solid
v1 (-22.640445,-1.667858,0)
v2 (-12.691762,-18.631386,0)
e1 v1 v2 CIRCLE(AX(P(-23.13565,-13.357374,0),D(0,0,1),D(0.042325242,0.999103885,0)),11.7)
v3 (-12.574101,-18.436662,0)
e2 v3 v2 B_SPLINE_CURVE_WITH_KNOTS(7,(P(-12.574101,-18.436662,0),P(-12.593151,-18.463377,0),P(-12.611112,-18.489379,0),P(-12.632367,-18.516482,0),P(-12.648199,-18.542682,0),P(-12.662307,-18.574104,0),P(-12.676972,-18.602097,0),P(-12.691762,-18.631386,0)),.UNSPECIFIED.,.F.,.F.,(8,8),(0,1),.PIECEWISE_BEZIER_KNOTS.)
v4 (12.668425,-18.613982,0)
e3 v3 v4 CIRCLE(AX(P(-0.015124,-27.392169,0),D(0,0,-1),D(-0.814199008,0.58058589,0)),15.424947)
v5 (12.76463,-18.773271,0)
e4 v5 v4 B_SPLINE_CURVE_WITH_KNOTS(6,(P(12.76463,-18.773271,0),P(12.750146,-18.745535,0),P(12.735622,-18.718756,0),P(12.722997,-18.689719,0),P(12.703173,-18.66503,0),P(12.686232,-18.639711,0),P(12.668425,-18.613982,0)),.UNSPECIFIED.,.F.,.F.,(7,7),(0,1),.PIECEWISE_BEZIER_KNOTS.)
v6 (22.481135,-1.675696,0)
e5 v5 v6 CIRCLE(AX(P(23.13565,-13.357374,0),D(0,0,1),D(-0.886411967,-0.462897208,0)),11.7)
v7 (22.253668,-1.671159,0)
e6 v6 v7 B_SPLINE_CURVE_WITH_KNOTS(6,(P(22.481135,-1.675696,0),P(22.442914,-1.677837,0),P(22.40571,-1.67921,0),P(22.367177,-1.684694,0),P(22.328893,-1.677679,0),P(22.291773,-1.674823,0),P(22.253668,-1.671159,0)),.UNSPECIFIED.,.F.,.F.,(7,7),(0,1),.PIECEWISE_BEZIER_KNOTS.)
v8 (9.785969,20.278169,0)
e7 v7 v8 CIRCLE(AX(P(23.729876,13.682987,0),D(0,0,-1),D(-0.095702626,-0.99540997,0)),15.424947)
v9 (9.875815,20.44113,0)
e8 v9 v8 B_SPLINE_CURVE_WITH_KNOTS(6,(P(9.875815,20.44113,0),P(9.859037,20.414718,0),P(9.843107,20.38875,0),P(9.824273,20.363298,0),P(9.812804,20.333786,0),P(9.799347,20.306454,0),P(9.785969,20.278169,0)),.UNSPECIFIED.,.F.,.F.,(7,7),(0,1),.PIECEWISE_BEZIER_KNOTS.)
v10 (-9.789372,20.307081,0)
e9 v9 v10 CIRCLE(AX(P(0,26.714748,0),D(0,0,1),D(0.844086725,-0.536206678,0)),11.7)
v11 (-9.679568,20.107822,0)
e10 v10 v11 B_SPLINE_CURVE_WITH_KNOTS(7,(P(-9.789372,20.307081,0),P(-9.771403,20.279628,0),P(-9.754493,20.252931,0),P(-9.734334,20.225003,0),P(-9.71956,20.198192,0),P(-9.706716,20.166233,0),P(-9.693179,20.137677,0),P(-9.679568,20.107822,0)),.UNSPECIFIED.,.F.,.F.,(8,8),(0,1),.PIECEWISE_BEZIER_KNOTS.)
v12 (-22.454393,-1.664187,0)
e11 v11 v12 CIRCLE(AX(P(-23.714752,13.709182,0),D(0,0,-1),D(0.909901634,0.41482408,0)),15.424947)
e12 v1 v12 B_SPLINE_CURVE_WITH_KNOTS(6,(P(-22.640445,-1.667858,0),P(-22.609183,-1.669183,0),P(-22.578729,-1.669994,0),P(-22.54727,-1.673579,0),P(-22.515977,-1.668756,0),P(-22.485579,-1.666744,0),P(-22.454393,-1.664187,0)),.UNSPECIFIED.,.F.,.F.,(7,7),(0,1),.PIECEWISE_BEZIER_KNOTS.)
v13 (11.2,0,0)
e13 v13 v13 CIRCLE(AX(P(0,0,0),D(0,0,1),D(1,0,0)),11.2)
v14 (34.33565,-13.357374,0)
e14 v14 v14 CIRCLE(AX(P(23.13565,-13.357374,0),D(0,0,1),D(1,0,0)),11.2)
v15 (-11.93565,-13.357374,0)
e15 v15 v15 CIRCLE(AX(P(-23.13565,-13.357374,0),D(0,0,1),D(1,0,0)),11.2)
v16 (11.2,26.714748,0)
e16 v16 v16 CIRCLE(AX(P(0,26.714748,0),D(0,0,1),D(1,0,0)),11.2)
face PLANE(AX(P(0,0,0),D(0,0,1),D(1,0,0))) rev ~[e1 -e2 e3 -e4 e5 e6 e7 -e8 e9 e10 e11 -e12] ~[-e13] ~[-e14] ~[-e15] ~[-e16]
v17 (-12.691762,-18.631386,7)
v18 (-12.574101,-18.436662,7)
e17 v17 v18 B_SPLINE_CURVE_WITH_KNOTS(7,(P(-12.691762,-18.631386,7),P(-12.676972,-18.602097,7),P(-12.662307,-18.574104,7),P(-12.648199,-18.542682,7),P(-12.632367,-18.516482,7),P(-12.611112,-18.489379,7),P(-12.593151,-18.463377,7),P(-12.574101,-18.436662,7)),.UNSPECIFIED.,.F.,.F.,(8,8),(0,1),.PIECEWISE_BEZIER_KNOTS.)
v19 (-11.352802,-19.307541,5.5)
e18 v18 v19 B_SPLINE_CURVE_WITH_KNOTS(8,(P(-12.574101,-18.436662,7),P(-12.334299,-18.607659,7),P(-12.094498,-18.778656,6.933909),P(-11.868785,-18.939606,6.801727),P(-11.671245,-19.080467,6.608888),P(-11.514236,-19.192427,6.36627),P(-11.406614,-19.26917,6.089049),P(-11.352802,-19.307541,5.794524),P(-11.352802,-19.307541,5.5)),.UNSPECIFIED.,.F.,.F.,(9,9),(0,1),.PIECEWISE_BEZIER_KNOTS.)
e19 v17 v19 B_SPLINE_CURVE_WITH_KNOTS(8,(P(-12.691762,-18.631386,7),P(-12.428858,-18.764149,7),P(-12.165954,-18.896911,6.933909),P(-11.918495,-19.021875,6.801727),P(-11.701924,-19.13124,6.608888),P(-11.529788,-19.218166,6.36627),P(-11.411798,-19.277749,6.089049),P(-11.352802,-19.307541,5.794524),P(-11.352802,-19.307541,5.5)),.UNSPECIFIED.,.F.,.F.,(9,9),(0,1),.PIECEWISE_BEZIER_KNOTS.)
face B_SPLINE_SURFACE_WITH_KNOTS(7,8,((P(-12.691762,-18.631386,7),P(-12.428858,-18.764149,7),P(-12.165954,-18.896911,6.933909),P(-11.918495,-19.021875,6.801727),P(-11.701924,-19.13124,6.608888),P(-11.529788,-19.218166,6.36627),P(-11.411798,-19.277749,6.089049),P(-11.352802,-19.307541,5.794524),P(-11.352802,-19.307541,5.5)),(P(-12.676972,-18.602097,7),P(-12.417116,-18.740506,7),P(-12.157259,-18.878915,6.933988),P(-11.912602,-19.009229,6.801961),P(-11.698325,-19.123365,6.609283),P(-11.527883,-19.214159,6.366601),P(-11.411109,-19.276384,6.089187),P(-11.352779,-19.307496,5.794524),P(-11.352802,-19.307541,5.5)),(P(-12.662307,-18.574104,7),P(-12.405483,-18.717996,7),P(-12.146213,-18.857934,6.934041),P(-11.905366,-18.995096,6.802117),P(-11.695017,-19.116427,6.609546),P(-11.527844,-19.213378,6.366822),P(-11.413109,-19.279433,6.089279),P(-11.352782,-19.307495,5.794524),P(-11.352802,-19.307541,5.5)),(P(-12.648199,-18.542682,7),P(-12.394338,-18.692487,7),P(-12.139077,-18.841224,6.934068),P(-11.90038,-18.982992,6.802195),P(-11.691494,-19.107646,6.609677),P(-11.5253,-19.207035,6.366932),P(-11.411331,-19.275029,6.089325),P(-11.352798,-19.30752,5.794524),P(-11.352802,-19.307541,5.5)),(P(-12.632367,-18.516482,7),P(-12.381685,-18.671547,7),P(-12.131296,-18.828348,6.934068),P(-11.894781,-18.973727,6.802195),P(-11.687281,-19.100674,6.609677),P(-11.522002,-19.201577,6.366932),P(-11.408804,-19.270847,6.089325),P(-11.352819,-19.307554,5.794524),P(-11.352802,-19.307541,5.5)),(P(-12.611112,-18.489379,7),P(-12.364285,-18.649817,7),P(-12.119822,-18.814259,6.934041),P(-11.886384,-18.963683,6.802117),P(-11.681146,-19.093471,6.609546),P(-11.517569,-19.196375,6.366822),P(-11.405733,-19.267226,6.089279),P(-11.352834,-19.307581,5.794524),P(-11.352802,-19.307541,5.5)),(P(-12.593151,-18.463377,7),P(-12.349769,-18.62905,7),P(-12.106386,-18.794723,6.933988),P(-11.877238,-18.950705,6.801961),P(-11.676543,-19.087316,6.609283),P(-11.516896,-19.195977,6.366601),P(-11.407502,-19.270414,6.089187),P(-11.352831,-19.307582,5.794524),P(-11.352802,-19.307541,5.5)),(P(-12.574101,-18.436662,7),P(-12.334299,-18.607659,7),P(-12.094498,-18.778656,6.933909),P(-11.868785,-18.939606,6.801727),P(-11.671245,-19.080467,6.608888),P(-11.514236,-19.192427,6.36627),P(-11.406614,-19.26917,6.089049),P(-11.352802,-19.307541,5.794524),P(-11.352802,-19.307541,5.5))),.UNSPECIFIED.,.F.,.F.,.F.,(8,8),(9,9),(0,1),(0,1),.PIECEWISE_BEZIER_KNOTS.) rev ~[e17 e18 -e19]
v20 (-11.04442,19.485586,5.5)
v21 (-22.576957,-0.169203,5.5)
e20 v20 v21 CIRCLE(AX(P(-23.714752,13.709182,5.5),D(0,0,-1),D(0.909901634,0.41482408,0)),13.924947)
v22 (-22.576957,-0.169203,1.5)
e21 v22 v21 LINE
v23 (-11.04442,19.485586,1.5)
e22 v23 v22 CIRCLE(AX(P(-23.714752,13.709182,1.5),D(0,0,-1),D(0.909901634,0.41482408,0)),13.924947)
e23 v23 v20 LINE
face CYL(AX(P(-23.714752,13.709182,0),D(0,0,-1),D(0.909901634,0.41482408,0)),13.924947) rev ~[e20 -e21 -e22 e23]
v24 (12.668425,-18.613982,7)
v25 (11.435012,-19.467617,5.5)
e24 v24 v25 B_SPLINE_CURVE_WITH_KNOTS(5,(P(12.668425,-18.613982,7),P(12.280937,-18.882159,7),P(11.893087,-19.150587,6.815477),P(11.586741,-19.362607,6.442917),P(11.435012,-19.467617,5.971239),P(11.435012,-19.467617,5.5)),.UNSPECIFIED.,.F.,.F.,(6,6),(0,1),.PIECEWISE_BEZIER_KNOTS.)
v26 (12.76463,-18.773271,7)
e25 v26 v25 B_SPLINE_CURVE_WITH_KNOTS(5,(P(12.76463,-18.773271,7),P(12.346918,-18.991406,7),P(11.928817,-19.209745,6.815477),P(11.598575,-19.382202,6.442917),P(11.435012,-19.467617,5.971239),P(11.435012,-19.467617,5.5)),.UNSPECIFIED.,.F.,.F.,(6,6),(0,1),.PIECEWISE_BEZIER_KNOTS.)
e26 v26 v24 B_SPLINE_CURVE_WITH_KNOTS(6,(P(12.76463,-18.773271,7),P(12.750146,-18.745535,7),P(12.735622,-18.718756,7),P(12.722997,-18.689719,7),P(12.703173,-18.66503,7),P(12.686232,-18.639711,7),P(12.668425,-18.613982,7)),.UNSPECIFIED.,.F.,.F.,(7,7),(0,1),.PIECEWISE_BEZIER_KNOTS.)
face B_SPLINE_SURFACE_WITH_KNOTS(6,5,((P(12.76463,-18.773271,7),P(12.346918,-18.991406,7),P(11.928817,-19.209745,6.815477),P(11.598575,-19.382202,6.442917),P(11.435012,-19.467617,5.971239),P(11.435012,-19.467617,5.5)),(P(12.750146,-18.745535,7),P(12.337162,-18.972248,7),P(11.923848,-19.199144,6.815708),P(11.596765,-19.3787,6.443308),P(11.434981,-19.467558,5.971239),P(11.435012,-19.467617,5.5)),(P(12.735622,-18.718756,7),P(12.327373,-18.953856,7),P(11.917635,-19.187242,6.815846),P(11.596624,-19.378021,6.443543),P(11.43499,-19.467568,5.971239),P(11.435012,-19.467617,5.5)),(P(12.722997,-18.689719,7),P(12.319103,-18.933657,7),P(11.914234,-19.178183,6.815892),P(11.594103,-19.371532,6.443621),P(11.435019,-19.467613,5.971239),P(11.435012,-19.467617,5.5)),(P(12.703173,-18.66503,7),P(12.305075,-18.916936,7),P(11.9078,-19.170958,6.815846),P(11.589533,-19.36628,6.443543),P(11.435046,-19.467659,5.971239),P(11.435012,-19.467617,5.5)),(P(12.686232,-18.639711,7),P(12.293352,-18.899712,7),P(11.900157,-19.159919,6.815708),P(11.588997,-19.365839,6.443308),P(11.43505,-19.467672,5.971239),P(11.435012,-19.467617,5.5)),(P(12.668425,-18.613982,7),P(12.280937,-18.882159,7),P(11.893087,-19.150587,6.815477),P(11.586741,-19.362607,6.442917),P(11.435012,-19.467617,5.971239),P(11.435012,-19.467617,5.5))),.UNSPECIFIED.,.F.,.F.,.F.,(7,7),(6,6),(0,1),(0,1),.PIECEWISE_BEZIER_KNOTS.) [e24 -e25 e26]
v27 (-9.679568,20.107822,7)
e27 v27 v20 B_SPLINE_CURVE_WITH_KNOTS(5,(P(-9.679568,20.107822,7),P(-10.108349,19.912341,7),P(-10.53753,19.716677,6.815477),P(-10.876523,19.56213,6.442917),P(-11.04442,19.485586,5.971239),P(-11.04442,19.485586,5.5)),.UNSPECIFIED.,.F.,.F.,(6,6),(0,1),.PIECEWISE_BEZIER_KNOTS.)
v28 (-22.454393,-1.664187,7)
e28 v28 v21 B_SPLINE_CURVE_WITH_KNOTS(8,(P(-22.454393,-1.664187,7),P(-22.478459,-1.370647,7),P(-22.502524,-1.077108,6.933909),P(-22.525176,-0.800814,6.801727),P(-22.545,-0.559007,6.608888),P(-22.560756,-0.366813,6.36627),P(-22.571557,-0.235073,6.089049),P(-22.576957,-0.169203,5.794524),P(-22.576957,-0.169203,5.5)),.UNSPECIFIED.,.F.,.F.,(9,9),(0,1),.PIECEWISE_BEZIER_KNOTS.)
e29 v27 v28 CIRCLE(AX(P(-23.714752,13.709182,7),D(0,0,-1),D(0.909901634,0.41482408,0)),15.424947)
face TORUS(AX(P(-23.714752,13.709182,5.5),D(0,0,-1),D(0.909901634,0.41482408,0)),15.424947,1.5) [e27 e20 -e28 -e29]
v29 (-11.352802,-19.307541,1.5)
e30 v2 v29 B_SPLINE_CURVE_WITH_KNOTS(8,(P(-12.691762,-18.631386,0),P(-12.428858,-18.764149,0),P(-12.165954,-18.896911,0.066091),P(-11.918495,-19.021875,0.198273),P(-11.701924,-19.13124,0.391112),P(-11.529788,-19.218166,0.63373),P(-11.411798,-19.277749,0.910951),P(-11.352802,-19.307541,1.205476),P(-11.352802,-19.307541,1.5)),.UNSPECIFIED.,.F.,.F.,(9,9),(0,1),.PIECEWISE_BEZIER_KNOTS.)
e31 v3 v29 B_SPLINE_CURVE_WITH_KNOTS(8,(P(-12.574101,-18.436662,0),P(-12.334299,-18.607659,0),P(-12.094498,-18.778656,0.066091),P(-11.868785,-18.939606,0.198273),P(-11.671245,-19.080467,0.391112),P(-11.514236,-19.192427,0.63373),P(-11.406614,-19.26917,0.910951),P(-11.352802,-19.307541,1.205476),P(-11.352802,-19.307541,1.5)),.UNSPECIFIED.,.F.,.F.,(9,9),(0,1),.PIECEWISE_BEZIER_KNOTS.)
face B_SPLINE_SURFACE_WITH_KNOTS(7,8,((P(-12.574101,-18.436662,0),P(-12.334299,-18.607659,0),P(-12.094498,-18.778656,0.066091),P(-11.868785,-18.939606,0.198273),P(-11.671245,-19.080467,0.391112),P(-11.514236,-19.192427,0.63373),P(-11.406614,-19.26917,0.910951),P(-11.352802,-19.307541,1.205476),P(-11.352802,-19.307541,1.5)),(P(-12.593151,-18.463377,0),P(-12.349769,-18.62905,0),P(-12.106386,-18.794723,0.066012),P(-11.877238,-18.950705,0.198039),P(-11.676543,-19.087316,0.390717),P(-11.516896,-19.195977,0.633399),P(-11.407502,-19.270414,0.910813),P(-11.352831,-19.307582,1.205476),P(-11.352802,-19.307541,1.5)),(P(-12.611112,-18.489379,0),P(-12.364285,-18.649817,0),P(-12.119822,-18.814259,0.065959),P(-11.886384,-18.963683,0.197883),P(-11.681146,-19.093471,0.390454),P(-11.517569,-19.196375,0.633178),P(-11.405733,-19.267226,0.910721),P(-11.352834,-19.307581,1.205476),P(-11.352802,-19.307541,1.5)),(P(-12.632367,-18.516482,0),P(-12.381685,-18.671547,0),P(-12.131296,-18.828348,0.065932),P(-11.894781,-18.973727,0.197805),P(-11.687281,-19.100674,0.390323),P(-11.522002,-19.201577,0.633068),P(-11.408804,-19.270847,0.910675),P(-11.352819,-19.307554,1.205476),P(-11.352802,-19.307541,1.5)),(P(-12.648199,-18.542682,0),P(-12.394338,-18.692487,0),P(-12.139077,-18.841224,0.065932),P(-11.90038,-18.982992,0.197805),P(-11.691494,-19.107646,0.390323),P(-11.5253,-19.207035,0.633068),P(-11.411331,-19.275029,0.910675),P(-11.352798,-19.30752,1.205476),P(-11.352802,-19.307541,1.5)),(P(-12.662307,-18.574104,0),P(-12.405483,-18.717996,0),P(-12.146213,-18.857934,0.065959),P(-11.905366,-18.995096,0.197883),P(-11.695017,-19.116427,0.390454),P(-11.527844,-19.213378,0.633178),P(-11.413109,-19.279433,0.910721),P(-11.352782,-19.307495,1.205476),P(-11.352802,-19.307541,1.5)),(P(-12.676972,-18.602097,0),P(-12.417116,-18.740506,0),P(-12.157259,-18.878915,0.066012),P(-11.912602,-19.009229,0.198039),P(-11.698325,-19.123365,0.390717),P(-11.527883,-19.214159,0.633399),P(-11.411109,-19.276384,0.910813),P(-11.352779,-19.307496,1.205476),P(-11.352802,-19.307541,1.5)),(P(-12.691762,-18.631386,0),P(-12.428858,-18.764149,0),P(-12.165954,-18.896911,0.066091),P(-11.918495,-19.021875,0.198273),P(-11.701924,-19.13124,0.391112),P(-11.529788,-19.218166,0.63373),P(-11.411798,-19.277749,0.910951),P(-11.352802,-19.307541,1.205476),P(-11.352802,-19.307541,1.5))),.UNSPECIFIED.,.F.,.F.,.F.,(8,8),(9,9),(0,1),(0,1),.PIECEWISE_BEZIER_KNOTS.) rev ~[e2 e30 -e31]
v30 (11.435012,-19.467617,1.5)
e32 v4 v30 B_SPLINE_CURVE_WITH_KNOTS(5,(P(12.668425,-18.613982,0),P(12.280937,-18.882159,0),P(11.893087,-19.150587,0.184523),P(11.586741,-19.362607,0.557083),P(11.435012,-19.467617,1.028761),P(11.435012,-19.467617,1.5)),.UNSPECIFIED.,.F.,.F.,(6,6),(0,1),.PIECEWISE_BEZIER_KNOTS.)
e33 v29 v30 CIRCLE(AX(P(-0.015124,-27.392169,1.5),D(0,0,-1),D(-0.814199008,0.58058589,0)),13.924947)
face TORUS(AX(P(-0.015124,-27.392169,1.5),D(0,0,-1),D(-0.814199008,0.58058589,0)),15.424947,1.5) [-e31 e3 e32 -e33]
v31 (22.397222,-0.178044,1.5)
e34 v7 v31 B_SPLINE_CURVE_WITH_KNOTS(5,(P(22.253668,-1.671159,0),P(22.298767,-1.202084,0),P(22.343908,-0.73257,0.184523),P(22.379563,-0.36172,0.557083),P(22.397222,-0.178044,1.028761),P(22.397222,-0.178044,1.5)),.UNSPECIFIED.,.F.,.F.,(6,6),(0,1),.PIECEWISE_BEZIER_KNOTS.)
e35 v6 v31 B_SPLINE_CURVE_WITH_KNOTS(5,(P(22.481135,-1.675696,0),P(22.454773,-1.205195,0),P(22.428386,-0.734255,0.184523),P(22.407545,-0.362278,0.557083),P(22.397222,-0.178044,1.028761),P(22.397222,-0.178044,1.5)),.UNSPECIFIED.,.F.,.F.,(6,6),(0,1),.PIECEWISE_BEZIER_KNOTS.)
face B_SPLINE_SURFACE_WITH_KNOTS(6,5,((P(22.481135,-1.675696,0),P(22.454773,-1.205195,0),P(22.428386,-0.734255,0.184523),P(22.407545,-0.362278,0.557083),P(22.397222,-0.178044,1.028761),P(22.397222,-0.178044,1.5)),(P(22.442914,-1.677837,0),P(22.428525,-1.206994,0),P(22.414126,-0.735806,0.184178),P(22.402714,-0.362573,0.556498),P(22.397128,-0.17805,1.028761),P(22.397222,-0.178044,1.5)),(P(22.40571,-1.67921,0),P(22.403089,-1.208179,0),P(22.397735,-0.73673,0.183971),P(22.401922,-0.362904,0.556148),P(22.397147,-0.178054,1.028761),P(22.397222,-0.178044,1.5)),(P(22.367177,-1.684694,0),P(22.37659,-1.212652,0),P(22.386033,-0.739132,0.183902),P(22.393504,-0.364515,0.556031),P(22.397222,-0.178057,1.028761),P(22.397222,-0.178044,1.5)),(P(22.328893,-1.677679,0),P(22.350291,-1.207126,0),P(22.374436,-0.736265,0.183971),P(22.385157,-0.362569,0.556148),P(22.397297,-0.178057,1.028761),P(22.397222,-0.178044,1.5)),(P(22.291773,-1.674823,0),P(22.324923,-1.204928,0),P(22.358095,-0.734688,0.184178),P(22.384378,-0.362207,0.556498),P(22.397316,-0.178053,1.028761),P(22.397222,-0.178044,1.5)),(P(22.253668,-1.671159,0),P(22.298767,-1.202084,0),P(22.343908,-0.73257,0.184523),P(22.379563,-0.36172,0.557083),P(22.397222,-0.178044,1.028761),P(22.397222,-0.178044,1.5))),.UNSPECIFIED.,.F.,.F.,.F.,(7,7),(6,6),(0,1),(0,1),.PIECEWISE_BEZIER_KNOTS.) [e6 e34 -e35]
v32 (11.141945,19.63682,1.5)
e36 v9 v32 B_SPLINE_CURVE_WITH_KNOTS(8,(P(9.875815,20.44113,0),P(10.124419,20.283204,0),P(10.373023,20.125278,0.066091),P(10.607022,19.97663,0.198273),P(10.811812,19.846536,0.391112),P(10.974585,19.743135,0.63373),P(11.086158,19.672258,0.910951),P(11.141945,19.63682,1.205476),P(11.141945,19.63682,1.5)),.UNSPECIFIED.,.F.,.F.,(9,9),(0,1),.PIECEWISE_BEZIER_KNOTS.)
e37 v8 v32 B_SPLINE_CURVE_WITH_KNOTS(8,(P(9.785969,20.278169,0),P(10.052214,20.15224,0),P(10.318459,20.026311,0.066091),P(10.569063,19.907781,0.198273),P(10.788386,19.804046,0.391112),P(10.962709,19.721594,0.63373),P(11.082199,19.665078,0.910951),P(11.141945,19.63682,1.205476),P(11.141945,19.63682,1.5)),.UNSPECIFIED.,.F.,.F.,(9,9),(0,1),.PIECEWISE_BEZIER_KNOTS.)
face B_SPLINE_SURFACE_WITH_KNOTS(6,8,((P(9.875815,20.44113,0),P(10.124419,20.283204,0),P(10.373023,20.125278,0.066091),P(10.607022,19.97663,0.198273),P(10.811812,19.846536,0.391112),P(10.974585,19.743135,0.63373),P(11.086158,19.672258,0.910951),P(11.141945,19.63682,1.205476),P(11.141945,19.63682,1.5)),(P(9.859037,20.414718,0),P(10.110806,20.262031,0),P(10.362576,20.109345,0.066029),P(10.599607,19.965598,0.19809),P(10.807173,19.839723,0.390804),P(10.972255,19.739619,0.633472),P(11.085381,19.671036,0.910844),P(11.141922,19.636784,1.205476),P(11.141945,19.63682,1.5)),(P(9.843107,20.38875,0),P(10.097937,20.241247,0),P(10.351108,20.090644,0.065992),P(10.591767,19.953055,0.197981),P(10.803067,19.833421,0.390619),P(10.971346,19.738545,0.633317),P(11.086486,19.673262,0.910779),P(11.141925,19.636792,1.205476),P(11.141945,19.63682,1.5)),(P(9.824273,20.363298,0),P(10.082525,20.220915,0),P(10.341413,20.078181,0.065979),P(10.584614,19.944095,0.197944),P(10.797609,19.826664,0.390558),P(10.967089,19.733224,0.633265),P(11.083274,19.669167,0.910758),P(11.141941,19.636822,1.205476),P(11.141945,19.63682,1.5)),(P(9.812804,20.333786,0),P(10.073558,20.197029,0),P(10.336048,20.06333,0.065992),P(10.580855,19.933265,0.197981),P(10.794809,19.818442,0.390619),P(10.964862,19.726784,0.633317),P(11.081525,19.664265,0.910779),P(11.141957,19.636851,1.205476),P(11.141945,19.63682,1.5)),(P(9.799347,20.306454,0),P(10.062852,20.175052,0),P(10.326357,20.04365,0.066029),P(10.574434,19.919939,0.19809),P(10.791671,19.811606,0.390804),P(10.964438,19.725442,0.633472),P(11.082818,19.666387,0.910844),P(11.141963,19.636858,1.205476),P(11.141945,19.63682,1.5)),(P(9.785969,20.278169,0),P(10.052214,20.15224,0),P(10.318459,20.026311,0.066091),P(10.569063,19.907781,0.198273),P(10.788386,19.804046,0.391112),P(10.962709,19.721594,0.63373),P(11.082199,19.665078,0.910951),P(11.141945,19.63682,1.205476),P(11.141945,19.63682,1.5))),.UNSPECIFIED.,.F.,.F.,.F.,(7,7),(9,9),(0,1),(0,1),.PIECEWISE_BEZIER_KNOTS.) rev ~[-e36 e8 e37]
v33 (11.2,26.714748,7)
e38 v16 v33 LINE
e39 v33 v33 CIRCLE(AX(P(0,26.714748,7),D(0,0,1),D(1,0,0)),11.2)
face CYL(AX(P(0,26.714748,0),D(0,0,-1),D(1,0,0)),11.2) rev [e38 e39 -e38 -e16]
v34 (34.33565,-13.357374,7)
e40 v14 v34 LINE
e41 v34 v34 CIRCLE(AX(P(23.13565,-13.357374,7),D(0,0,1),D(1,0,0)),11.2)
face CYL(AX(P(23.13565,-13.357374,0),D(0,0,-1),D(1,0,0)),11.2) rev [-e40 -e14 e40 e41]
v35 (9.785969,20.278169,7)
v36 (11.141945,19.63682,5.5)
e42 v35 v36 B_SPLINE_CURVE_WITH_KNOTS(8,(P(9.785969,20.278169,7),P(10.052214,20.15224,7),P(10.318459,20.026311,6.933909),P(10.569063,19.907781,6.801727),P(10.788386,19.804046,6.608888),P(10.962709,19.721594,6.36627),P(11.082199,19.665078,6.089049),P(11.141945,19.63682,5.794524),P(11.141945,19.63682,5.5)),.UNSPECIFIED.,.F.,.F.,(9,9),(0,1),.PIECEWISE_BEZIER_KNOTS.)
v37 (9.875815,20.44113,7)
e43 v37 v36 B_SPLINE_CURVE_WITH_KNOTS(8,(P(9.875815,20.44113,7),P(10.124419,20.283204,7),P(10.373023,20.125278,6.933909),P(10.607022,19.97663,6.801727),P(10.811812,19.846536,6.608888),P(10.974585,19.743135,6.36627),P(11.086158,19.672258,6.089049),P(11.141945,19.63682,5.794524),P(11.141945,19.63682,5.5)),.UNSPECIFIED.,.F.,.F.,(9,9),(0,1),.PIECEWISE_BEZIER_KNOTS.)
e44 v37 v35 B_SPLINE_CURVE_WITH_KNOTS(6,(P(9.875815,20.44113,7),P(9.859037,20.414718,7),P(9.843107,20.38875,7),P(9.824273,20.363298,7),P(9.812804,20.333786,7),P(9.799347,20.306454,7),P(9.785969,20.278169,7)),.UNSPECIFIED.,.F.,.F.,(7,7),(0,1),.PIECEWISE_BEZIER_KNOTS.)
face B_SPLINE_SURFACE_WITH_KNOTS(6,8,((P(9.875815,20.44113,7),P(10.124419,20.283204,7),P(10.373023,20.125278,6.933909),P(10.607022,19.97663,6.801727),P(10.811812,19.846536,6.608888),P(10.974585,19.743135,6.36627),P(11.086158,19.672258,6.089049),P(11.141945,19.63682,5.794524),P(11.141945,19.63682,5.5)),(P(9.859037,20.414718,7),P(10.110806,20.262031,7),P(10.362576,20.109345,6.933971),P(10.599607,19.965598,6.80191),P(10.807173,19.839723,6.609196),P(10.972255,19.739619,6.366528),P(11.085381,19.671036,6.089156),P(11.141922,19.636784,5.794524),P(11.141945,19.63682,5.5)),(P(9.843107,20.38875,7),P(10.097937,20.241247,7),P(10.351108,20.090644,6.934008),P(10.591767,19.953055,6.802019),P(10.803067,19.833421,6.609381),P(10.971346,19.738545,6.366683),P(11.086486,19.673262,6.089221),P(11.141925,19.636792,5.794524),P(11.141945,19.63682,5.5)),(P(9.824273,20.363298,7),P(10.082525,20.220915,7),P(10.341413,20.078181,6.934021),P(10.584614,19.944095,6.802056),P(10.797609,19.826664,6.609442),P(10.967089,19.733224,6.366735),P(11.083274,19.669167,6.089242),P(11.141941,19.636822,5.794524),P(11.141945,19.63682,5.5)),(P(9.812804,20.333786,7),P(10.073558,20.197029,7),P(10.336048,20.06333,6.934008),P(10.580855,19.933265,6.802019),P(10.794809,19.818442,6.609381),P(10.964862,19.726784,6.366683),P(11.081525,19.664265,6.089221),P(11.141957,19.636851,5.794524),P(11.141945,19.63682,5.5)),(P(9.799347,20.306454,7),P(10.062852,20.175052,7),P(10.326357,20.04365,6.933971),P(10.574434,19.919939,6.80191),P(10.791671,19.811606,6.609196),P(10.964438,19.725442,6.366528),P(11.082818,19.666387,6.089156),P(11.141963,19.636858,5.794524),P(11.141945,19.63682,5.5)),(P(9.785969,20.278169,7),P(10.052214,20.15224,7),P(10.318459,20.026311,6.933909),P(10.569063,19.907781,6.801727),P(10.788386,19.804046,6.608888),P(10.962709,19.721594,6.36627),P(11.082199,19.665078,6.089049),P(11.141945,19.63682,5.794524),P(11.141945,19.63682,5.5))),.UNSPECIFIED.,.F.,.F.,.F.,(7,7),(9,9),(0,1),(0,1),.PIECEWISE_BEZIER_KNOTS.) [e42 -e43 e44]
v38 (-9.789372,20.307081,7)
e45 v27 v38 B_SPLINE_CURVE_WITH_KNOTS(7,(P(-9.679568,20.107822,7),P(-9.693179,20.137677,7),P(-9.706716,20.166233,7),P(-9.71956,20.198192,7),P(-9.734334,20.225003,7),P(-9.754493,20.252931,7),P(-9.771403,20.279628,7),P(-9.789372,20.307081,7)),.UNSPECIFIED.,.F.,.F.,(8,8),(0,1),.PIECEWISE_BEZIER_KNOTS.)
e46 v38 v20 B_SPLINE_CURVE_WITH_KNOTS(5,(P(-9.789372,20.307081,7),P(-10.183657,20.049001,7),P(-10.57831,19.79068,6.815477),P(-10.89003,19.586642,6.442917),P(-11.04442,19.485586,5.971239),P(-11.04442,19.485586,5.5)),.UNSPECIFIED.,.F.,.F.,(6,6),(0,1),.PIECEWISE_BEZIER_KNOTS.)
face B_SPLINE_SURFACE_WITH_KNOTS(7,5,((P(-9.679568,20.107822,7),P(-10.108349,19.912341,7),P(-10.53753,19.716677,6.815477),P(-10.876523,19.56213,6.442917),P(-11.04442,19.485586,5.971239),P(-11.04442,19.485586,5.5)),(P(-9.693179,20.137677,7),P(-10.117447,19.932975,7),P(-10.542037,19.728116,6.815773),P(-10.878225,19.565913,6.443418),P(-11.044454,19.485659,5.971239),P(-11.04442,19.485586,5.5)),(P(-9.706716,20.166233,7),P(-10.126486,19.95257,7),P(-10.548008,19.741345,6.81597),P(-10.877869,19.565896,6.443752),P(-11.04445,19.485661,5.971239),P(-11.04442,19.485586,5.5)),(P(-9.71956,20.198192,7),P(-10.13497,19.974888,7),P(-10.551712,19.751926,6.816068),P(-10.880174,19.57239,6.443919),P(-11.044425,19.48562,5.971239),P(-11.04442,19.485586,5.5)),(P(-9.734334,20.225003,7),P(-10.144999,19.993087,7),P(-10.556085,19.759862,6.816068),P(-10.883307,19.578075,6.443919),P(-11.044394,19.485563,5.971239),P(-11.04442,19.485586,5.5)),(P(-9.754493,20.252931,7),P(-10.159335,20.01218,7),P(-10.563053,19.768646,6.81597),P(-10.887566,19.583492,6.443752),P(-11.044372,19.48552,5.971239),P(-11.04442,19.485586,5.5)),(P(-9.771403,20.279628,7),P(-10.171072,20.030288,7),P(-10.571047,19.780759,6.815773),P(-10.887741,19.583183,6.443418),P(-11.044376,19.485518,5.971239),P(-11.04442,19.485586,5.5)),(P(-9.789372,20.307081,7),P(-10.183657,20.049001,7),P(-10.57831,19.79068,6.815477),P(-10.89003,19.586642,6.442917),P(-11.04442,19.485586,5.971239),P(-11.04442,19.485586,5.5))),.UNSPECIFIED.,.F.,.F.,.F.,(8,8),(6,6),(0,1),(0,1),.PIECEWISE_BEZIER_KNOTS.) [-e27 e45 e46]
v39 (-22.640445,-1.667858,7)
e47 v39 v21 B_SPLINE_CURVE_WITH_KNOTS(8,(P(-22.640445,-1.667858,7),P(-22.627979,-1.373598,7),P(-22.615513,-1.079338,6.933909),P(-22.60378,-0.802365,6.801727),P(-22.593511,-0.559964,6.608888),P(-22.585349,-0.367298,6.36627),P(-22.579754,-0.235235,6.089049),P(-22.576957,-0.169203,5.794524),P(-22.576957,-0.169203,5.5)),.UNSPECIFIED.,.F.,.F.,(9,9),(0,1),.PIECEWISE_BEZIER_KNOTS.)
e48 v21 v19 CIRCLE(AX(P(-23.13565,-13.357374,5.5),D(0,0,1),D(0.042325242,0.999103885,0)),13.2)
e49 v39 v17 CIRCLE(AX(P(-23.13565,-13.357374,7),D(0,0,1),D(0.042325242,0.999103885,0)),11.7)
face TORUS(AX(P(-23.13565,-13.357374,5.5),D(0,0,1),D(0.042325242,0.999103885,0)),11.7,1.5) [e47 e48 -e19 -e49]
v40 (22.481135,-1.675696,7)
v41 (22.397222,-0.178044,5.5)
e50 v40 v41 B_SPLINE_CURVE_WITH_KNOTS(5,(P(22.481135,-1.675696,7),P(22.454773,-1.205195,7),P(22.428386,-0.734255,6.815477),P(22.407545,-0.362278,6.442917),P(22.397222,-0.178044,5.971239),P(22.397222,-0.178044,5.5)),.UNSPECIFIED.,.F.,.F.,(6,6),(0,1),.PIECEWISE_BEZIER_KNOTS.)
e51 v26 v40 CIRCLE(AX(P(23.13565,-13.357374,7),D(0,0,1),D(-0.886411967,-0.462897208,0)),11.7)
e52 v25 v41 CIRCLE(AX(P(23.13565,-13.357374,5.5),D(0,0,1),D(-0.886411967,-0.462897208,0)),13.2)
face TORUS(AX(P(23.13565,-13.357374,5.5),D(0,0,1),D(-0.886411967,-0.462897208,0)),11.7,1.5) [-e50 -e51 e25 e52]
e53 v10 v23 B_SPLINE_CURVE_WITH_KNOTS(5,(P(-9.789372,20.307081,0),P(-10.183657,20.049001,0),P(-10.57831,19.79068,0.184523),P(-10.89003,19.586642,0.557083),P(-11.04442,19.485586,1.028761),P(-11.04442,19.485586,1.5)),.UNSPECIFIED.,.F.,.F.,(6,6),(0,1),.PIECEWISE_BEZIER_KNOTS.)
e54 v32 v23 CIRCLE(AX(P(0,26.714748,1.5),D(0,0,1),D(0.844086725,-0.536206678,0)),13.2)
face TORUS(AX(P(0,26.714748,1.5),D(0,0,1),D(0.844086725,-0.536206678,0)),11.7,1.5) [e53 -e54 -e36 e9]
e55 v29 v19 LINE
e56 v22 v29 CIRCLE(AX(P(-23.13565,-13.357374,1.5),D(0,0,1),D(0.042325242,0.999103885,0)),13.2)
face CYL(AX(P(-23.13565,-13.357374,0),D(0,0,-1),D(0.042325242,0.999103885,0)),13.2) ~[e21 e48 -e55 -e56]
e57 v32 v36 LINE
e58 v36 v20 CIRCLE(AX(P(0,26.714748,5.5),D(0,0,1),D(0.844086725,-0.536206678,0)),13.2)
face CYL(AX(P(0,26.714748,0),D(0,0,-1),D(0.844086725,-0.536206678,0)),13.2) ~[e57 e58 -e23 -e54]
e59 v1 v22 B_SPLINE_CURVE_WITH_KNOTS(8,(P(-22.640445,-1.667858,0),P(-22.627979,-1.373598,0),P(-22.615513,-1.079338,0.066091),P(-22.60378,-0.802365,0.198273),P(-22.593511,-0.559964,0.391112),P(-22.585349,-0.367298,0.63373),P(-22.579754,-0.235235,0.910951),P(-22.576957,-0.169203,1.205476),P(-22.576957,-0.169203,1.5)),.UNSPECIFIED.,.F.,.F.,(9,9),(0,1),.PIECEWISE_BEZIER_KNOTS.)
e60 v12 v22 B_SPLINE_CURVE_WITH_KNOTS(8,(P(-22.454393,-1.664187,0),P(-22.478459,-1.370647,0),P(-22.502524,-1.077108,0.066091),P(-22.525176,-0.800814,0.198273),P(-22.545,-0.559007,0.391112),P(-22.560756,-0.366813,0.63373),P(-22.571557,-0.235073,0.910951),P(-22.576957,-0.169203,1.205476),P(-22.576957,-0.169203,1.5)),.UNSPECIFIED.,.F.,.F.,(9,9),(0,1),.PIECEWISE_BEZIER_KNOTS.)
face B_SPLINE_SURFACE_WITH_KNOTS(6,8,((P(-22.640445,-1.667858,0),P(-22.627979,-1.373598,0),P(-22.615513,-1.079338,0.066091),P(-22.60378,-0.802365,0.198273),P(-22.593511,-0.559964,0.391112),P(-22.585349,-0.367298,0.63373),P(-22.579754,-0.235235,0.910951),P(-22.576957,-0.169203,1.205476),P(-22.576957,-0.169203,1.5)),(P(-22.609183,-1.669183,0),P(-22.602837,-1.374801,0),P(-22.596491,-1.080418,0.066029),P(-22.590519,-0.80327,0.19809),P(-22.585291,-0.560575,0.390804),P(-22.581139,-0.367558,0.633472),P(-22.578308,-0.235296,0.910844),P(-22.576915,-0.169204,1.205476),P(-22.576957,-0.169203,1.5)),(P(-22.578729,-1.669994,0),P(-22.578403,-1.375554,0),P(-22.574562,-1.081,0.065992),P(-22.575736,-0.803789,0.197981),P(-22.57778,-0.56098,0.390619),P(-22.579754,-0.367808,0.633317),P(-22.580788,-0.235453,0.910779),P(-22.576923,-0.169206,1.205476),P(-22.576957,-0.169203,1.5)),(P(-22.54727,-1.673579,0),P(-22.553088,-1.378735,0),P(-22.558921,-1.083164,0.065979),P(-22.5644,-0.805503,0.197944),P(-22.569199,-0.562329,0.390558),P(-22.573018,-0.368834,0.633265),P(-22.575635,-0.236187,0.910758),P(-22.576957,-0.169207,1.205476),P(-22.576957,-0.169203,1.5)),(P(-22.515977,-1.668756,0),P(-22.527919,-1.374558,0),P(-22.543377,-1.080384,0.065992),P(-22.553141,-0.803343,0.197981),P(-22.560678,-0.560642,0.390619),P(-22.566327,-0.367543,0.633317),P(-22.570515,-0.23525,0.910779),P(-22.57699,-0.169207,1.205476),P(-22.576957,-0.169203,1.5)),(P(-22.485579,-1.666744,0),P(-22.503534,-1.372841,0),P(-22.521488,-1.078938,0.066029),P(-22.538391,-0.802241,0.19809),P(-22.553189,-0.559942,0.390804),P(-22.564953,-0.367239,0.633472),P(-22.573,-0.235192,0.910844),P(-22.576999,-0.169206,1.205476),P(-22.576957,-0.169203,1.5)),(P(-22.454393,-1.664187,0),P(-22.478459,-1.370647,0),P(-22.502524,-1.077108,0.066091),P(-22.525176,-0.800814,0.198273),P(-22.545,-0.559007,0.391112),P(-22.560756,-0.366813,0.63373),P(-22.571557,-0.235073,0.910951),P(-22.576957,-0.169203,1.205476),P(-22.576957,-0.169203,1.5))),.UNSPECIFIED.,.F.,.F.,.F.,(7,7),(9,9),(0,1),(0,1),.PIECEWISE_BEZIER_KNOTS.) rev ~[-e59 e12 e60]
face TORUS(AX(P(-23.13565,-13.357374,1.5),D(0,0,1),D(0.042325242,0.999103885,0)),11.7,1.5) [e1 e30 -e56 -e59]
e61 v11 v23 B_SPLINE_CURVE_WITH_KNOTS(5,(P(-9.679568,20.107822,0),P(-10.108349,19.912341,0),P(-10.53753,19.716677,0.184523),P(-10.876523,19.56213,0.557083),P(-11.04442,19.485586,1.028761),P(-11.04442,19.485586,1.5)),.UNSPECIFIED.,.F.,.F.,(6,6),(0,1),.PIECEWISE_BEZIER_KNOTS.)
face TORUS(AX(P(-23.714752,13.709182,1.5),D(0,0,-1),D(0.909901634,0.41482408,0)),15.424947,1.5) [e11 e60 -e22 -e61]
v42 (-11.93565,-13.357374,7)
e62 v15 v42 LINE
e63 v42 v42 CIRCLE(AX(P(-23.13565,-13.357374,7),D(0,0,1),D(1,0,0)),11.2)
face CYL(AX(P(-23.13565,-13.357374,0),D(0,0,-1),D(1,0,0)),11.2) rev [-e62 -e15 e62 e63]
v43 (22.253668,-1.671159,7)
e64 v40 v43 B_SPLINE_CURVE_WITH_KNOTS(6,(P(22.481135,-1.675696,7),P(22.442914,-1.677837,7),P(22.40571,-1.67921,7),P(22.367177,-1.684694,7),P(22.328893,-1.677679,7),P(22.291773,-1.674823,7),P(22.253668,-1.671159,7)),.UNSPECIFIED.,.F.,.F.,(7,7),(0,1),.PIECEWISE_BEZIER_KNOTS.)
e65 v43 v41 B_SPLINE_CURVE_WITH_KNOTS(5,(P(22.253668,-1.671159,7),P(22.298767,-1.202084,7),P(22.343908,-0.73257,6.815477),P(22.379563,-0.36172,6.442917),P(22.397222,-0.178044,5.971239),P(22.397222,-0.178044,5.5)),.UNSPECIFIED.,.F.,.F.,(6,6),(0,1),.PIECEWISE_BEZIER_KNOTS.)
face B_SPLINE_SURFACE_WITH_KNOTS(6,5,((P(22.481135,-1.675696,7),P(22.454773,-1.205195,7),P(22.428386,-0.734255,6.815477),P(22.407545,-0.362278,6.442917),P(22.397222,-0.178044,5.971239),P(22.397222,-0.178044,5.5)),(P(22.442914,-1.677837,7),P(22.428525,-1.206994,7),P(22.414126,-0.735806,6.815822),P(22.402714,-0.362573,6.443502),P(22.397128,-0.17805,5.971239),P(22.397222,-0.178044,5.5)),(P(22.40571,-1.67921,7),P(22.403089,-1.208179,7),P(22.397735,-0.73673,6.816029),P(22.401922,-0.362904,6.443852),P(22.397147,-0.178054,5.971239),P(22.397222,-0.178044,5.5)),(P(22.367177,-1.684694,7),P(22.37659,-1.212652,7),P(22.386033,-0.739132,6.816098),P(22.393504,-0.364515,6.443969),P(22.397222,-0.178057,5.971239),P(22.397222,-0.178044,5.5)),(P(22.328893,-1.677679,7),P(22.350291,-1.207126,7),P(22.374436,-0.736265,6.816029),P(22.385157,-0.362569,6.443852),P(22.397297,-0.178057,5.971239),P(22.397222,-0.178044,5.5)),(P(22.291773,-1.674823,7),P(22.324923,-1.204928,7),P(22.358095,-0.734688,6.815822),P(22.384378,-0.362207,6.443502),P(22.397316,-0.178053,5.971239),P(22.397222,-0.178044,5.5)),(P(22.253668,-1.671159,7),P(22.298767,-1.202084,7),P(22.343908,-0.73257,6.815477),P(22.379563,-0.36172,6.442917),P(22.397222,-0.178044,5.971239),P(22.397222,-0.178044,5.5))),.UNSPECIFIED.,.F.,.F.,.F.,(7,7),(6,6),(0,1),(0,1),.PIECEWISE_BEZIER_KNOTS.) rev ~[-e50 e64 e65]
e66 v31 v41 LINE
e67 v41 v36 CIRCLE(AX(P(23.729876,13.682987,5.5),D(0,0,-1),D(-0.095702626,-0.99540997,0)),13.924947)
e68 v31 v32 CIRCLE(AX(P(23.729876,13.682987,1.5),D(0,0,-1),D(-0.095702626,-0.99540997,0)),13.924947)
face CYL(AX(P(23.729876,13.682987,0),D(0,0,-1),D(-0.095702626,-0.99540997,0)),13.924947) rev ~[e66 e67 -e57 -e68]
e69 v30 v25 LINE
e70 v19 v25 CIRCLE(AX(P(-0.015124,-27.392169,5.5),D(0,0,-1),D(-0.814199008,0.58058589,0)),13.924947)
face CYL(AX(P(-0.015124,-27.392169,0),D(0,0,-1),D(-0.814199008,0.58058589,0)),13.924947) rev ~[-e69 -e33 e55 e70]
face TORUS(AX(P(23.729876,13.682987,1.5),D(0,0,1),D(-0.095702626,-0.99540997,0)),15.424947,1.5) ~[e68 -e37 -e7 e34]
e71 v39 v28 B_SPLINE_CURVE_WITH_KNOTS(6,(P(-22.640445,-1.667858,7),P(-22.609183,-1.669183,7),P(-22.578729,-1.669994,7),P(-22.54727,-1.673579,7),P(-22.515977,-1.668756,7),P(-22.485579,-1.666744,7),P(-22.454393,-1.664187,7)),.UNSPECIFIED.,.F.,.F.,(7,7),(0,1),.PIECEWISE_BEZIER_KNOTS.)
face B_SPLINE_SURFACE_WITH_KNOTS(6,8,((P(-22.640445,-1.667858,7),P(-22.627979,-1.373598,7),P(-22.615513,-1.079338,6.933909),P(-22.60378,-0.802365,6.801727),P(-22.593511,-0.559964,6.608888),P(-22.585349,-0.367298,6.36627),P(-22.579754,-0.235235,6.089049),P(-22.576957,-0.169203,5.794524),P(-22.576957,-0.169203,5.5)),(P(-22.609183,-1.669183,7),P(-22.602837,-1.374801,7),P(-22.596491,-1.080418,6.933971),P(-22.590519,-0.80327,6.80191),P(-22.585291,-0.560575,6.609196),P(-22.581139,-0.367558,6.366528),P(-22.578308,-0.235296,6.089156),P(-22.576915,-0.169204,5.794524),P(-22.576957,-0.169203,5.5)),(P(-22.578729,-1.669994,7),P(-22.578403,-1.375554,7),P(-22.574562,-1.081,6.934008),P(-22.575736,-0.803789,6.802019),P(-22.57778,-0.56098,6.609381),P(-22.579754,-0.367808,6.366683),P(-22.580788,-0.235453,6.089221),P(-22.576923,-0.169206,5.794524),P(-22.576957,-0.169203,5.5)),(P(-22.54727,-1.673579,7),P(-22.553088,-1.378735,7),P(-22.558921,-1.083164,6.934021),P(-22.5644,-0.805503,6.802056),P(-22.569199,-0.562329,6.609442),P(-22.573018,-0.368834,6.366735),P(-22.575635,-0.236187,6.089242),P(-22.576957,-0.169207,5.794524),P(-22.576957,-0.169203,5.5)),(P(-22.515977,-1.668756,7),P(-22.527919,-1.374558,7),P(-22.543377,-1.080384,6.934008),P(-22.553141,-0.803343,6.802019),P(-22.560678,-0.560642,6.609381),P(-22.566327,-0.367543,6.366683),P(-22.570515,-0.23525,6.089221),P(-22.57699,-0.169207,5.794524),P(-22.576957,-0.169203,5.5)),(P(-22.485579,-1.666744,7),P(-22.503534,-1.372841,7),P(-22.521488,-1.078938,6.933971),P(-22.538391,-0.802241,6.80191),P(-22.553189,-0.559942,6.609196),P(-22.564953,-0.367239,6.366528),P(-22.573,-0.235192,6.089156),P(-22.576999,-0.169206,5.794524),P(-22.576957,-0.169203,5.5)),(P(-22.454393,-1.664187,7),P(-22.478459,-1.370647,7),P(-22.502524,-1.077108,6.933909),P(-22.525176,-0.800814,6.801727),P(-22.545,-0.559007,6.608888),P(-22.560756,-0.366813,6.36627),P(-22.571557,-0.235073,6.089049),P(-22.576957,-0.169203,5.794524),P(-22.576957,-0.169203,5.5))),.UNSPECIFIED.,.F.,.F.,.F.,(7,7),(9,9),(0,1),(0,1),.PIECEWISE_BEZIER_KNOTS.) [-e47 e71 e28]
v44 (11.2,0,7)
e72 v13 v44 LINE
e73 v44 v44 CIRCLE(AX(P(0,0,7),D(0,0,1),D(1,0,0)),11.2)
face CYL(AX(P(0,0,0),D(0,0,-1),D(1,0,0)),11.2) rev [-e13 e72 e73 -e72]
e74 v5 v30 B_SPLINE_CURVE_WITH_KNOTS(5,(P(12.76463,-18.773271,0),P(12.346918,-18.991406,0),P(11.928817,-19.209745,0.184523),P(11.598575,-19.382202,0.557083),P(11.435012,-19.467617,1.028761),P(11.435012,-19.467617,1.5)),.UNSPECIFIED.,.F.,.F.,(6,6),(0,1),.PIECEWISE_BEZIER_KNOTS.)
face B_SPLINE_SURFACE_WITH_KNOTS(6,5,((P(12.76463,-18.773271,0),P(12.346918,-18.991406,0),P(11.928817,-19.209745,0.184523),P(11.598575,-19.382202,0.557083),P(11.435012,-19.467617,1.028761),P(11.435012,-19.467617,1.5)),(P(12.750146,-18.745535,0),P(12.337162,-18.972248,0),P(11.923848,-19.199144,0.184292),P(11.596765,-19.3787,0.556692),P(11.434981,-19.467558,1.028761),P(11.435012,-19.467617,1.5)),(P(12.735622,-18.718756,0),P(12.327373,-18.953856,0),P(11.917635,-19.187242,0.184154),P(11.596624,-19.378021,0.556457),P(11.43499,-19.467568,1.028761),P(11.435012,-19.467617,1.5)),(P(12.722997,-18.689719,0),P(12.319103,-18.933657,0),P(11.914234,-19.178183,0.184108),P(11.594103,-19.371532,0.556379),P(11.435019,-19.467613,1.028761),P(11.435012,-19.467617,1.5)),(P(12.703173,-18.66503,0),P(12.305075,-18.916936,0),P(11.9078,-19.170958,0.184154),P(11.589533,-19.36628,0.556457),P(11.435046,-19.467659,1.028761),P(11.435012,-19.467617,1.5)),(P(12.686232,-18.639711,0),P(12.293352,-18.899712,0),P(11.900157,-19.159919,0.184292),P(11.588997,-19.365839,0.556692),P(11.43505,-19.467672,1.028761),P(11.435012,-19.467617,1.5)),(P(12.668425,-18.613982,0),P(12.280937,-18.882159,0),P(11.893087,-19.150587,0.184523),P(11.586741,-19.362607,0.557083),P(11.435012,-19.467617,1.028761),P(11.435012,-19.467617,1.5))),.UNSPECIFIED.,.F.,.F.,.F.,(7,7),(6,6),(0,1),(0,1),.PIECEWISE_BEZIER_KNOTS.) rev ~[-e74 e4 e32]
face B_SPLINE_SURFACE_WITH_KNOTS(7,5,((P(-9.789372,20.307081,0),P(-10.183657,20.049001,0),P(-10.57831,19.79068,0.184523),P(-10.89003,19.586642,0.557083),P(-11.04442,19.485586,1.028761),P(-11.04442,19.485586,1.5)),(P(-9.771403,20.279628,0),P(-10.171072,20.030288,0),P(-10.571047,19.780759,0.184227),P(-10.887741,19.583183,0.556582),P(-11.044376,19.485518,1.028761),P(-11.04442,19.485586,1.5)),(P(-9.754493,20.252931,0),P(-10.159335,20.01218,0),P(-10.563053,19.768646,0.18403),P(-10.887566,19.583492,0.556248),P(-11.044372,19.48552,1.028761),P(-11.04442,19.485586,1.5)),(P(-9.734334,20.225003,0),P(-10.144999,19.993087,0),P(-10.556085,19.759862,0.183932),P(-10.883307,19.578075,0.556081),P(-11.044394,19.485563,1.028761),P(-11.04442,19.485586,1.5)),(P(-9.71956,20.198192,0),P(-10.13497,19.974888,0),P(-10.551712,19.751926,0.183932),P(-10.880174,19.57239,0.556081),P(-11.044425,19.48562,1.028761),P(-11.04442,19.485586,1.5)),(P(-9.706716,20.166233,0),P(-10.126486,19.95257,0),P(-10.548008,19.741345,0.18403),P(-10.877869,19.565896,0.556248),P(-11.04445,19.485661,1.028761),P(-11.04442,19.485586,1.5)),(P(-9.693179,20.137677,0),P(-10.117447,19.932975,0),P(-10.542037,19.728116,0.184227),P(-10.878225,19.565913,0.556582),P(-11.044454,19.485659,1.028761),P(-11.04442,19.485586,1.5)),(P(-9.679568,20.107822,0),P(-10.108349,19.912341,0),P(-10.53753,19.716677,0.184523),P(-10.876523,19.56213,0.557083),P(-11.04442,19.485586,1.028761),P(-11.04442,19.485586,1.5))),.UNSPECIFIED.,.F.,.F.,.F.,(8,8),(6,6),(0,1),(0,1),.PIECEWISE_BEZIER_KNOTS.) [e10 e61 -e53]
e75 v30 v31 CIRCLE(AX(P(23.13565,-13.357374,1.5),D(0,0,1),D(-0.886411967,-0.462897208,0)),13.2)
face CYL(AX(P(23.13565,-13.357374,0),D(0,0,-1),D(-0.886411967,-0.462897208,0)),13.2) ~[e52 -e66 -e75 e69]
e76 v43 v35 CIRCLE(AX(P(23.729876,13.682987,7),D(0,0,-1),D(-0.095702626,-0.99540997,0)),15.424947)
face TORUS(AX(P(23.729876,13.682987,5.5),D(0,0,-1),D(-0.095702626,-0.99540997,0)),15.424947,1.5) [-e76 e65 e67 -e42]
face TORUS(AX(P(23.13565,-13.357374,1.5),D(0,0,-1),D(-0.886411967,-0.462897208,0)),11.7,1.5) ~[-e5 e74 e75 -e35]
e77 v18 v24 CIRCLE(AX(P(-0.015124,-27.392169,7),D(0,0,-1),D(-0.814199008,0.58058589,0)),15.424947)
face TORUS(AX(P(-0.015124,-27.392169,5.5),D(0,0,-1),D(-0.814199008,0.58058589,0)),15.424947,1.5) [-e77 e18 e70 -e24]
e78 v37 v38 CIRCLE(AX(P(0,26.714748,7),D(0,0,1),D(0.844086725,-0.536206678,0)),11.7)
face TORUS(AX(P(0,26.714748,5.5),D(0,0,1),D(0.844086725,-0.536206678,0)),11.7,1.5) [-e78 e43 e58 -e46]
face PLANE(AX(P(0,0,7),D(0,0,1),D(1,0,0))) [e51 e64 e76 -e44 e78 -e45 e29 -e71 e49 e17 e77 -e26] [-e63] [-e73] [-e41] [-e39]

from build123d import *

# Parameters (mm, degrees)
F0_R     = 11.2
F1_DEPTH = 7
F2_R     = 1.5


with BuildPart() as f1:
    # F0 (on Top) → F1 (new body)
    with BuildSketch(Plane.XY):
        with BuildLine():
            ThreePointArc((22.3972222345, -0.1780444605), (11.6219084102, 6.8053952105), (11.1419447663, 19.6368196267))
            ThreePointArc((11.1419447663, 19.6368196267), (-0.0899760733, 39.914441113), (-11.0444200915, 19.4855856595))
            ThreePointArc((-11.0444200915, 19.4855856595), (-11.7045993402, 6.6621703185), (-22.5769570295, -0.1692025982))
            ThreePointArc((-22.5769570295, -0.1692025982), (-34.5219319451, -20.0351421217), (-11.352802143, -19.3075411991))
            ThreePointArc((-11.352802143, -19.3075411991), (0.08269093, -13.467565529), (11.4350122631, -19.4676170286))
            ThreePointArc((11.4350122631, -19.4676170286), (34.6119080183, -19.8792989913), (22.3972222345, -0.1780444605))
        make_face()
        with Locations((-23.1356502259, -13.3573738858)):
            Circle(F0_R, mode=Mode.SUBTRACT)
        with Locations((23.1356502259, -13.3573738858)):
            Circle(F0_R, mode=Mode.SUBTRACT)
        Circle(F0_R, mode=Mode.SUBTRACT)
        with Locations((0, 26.7147477716)):
            Circle(F0_R, mode=Mode.SUBTRACT)
    extrude(amount=F1_DEPTH)

    # F2 (call 1 of 2: OpenCascade refuses the feature's edges together)
    f2_edges = [f1.edges().sort_by_distance(p)[0] for p in [
        (-34.521932, -20.035142, 7),
        (-11.704599, 6.66217, 7),
        (34.611908, -19.879299, 7),
        (-0.089976, 39.914441, 7),
        (0.082691, -13.467566, 7),
        (11.621908, 6.805395, 7),
    ]]
    fillet(f2_edges, radius=F2_R)

    # F2#2 (call 2 of 2)
    f2_2_edges = [f1.edges().sort_by_distance(p)[0] for p in [
        (34.611908, -19.879299, 0),
        (0.082691, -13.467566, 0),
        (-34.521932, -20.035142, 0),
        (-0.089976, 39.914441, 0),
        (11.621908, 6.805395, 0),
        (-11.704599, 6.66217, 0),
    ]]
    fillet(f2_2_edges, radius=F2_R)


solid = f1.part
